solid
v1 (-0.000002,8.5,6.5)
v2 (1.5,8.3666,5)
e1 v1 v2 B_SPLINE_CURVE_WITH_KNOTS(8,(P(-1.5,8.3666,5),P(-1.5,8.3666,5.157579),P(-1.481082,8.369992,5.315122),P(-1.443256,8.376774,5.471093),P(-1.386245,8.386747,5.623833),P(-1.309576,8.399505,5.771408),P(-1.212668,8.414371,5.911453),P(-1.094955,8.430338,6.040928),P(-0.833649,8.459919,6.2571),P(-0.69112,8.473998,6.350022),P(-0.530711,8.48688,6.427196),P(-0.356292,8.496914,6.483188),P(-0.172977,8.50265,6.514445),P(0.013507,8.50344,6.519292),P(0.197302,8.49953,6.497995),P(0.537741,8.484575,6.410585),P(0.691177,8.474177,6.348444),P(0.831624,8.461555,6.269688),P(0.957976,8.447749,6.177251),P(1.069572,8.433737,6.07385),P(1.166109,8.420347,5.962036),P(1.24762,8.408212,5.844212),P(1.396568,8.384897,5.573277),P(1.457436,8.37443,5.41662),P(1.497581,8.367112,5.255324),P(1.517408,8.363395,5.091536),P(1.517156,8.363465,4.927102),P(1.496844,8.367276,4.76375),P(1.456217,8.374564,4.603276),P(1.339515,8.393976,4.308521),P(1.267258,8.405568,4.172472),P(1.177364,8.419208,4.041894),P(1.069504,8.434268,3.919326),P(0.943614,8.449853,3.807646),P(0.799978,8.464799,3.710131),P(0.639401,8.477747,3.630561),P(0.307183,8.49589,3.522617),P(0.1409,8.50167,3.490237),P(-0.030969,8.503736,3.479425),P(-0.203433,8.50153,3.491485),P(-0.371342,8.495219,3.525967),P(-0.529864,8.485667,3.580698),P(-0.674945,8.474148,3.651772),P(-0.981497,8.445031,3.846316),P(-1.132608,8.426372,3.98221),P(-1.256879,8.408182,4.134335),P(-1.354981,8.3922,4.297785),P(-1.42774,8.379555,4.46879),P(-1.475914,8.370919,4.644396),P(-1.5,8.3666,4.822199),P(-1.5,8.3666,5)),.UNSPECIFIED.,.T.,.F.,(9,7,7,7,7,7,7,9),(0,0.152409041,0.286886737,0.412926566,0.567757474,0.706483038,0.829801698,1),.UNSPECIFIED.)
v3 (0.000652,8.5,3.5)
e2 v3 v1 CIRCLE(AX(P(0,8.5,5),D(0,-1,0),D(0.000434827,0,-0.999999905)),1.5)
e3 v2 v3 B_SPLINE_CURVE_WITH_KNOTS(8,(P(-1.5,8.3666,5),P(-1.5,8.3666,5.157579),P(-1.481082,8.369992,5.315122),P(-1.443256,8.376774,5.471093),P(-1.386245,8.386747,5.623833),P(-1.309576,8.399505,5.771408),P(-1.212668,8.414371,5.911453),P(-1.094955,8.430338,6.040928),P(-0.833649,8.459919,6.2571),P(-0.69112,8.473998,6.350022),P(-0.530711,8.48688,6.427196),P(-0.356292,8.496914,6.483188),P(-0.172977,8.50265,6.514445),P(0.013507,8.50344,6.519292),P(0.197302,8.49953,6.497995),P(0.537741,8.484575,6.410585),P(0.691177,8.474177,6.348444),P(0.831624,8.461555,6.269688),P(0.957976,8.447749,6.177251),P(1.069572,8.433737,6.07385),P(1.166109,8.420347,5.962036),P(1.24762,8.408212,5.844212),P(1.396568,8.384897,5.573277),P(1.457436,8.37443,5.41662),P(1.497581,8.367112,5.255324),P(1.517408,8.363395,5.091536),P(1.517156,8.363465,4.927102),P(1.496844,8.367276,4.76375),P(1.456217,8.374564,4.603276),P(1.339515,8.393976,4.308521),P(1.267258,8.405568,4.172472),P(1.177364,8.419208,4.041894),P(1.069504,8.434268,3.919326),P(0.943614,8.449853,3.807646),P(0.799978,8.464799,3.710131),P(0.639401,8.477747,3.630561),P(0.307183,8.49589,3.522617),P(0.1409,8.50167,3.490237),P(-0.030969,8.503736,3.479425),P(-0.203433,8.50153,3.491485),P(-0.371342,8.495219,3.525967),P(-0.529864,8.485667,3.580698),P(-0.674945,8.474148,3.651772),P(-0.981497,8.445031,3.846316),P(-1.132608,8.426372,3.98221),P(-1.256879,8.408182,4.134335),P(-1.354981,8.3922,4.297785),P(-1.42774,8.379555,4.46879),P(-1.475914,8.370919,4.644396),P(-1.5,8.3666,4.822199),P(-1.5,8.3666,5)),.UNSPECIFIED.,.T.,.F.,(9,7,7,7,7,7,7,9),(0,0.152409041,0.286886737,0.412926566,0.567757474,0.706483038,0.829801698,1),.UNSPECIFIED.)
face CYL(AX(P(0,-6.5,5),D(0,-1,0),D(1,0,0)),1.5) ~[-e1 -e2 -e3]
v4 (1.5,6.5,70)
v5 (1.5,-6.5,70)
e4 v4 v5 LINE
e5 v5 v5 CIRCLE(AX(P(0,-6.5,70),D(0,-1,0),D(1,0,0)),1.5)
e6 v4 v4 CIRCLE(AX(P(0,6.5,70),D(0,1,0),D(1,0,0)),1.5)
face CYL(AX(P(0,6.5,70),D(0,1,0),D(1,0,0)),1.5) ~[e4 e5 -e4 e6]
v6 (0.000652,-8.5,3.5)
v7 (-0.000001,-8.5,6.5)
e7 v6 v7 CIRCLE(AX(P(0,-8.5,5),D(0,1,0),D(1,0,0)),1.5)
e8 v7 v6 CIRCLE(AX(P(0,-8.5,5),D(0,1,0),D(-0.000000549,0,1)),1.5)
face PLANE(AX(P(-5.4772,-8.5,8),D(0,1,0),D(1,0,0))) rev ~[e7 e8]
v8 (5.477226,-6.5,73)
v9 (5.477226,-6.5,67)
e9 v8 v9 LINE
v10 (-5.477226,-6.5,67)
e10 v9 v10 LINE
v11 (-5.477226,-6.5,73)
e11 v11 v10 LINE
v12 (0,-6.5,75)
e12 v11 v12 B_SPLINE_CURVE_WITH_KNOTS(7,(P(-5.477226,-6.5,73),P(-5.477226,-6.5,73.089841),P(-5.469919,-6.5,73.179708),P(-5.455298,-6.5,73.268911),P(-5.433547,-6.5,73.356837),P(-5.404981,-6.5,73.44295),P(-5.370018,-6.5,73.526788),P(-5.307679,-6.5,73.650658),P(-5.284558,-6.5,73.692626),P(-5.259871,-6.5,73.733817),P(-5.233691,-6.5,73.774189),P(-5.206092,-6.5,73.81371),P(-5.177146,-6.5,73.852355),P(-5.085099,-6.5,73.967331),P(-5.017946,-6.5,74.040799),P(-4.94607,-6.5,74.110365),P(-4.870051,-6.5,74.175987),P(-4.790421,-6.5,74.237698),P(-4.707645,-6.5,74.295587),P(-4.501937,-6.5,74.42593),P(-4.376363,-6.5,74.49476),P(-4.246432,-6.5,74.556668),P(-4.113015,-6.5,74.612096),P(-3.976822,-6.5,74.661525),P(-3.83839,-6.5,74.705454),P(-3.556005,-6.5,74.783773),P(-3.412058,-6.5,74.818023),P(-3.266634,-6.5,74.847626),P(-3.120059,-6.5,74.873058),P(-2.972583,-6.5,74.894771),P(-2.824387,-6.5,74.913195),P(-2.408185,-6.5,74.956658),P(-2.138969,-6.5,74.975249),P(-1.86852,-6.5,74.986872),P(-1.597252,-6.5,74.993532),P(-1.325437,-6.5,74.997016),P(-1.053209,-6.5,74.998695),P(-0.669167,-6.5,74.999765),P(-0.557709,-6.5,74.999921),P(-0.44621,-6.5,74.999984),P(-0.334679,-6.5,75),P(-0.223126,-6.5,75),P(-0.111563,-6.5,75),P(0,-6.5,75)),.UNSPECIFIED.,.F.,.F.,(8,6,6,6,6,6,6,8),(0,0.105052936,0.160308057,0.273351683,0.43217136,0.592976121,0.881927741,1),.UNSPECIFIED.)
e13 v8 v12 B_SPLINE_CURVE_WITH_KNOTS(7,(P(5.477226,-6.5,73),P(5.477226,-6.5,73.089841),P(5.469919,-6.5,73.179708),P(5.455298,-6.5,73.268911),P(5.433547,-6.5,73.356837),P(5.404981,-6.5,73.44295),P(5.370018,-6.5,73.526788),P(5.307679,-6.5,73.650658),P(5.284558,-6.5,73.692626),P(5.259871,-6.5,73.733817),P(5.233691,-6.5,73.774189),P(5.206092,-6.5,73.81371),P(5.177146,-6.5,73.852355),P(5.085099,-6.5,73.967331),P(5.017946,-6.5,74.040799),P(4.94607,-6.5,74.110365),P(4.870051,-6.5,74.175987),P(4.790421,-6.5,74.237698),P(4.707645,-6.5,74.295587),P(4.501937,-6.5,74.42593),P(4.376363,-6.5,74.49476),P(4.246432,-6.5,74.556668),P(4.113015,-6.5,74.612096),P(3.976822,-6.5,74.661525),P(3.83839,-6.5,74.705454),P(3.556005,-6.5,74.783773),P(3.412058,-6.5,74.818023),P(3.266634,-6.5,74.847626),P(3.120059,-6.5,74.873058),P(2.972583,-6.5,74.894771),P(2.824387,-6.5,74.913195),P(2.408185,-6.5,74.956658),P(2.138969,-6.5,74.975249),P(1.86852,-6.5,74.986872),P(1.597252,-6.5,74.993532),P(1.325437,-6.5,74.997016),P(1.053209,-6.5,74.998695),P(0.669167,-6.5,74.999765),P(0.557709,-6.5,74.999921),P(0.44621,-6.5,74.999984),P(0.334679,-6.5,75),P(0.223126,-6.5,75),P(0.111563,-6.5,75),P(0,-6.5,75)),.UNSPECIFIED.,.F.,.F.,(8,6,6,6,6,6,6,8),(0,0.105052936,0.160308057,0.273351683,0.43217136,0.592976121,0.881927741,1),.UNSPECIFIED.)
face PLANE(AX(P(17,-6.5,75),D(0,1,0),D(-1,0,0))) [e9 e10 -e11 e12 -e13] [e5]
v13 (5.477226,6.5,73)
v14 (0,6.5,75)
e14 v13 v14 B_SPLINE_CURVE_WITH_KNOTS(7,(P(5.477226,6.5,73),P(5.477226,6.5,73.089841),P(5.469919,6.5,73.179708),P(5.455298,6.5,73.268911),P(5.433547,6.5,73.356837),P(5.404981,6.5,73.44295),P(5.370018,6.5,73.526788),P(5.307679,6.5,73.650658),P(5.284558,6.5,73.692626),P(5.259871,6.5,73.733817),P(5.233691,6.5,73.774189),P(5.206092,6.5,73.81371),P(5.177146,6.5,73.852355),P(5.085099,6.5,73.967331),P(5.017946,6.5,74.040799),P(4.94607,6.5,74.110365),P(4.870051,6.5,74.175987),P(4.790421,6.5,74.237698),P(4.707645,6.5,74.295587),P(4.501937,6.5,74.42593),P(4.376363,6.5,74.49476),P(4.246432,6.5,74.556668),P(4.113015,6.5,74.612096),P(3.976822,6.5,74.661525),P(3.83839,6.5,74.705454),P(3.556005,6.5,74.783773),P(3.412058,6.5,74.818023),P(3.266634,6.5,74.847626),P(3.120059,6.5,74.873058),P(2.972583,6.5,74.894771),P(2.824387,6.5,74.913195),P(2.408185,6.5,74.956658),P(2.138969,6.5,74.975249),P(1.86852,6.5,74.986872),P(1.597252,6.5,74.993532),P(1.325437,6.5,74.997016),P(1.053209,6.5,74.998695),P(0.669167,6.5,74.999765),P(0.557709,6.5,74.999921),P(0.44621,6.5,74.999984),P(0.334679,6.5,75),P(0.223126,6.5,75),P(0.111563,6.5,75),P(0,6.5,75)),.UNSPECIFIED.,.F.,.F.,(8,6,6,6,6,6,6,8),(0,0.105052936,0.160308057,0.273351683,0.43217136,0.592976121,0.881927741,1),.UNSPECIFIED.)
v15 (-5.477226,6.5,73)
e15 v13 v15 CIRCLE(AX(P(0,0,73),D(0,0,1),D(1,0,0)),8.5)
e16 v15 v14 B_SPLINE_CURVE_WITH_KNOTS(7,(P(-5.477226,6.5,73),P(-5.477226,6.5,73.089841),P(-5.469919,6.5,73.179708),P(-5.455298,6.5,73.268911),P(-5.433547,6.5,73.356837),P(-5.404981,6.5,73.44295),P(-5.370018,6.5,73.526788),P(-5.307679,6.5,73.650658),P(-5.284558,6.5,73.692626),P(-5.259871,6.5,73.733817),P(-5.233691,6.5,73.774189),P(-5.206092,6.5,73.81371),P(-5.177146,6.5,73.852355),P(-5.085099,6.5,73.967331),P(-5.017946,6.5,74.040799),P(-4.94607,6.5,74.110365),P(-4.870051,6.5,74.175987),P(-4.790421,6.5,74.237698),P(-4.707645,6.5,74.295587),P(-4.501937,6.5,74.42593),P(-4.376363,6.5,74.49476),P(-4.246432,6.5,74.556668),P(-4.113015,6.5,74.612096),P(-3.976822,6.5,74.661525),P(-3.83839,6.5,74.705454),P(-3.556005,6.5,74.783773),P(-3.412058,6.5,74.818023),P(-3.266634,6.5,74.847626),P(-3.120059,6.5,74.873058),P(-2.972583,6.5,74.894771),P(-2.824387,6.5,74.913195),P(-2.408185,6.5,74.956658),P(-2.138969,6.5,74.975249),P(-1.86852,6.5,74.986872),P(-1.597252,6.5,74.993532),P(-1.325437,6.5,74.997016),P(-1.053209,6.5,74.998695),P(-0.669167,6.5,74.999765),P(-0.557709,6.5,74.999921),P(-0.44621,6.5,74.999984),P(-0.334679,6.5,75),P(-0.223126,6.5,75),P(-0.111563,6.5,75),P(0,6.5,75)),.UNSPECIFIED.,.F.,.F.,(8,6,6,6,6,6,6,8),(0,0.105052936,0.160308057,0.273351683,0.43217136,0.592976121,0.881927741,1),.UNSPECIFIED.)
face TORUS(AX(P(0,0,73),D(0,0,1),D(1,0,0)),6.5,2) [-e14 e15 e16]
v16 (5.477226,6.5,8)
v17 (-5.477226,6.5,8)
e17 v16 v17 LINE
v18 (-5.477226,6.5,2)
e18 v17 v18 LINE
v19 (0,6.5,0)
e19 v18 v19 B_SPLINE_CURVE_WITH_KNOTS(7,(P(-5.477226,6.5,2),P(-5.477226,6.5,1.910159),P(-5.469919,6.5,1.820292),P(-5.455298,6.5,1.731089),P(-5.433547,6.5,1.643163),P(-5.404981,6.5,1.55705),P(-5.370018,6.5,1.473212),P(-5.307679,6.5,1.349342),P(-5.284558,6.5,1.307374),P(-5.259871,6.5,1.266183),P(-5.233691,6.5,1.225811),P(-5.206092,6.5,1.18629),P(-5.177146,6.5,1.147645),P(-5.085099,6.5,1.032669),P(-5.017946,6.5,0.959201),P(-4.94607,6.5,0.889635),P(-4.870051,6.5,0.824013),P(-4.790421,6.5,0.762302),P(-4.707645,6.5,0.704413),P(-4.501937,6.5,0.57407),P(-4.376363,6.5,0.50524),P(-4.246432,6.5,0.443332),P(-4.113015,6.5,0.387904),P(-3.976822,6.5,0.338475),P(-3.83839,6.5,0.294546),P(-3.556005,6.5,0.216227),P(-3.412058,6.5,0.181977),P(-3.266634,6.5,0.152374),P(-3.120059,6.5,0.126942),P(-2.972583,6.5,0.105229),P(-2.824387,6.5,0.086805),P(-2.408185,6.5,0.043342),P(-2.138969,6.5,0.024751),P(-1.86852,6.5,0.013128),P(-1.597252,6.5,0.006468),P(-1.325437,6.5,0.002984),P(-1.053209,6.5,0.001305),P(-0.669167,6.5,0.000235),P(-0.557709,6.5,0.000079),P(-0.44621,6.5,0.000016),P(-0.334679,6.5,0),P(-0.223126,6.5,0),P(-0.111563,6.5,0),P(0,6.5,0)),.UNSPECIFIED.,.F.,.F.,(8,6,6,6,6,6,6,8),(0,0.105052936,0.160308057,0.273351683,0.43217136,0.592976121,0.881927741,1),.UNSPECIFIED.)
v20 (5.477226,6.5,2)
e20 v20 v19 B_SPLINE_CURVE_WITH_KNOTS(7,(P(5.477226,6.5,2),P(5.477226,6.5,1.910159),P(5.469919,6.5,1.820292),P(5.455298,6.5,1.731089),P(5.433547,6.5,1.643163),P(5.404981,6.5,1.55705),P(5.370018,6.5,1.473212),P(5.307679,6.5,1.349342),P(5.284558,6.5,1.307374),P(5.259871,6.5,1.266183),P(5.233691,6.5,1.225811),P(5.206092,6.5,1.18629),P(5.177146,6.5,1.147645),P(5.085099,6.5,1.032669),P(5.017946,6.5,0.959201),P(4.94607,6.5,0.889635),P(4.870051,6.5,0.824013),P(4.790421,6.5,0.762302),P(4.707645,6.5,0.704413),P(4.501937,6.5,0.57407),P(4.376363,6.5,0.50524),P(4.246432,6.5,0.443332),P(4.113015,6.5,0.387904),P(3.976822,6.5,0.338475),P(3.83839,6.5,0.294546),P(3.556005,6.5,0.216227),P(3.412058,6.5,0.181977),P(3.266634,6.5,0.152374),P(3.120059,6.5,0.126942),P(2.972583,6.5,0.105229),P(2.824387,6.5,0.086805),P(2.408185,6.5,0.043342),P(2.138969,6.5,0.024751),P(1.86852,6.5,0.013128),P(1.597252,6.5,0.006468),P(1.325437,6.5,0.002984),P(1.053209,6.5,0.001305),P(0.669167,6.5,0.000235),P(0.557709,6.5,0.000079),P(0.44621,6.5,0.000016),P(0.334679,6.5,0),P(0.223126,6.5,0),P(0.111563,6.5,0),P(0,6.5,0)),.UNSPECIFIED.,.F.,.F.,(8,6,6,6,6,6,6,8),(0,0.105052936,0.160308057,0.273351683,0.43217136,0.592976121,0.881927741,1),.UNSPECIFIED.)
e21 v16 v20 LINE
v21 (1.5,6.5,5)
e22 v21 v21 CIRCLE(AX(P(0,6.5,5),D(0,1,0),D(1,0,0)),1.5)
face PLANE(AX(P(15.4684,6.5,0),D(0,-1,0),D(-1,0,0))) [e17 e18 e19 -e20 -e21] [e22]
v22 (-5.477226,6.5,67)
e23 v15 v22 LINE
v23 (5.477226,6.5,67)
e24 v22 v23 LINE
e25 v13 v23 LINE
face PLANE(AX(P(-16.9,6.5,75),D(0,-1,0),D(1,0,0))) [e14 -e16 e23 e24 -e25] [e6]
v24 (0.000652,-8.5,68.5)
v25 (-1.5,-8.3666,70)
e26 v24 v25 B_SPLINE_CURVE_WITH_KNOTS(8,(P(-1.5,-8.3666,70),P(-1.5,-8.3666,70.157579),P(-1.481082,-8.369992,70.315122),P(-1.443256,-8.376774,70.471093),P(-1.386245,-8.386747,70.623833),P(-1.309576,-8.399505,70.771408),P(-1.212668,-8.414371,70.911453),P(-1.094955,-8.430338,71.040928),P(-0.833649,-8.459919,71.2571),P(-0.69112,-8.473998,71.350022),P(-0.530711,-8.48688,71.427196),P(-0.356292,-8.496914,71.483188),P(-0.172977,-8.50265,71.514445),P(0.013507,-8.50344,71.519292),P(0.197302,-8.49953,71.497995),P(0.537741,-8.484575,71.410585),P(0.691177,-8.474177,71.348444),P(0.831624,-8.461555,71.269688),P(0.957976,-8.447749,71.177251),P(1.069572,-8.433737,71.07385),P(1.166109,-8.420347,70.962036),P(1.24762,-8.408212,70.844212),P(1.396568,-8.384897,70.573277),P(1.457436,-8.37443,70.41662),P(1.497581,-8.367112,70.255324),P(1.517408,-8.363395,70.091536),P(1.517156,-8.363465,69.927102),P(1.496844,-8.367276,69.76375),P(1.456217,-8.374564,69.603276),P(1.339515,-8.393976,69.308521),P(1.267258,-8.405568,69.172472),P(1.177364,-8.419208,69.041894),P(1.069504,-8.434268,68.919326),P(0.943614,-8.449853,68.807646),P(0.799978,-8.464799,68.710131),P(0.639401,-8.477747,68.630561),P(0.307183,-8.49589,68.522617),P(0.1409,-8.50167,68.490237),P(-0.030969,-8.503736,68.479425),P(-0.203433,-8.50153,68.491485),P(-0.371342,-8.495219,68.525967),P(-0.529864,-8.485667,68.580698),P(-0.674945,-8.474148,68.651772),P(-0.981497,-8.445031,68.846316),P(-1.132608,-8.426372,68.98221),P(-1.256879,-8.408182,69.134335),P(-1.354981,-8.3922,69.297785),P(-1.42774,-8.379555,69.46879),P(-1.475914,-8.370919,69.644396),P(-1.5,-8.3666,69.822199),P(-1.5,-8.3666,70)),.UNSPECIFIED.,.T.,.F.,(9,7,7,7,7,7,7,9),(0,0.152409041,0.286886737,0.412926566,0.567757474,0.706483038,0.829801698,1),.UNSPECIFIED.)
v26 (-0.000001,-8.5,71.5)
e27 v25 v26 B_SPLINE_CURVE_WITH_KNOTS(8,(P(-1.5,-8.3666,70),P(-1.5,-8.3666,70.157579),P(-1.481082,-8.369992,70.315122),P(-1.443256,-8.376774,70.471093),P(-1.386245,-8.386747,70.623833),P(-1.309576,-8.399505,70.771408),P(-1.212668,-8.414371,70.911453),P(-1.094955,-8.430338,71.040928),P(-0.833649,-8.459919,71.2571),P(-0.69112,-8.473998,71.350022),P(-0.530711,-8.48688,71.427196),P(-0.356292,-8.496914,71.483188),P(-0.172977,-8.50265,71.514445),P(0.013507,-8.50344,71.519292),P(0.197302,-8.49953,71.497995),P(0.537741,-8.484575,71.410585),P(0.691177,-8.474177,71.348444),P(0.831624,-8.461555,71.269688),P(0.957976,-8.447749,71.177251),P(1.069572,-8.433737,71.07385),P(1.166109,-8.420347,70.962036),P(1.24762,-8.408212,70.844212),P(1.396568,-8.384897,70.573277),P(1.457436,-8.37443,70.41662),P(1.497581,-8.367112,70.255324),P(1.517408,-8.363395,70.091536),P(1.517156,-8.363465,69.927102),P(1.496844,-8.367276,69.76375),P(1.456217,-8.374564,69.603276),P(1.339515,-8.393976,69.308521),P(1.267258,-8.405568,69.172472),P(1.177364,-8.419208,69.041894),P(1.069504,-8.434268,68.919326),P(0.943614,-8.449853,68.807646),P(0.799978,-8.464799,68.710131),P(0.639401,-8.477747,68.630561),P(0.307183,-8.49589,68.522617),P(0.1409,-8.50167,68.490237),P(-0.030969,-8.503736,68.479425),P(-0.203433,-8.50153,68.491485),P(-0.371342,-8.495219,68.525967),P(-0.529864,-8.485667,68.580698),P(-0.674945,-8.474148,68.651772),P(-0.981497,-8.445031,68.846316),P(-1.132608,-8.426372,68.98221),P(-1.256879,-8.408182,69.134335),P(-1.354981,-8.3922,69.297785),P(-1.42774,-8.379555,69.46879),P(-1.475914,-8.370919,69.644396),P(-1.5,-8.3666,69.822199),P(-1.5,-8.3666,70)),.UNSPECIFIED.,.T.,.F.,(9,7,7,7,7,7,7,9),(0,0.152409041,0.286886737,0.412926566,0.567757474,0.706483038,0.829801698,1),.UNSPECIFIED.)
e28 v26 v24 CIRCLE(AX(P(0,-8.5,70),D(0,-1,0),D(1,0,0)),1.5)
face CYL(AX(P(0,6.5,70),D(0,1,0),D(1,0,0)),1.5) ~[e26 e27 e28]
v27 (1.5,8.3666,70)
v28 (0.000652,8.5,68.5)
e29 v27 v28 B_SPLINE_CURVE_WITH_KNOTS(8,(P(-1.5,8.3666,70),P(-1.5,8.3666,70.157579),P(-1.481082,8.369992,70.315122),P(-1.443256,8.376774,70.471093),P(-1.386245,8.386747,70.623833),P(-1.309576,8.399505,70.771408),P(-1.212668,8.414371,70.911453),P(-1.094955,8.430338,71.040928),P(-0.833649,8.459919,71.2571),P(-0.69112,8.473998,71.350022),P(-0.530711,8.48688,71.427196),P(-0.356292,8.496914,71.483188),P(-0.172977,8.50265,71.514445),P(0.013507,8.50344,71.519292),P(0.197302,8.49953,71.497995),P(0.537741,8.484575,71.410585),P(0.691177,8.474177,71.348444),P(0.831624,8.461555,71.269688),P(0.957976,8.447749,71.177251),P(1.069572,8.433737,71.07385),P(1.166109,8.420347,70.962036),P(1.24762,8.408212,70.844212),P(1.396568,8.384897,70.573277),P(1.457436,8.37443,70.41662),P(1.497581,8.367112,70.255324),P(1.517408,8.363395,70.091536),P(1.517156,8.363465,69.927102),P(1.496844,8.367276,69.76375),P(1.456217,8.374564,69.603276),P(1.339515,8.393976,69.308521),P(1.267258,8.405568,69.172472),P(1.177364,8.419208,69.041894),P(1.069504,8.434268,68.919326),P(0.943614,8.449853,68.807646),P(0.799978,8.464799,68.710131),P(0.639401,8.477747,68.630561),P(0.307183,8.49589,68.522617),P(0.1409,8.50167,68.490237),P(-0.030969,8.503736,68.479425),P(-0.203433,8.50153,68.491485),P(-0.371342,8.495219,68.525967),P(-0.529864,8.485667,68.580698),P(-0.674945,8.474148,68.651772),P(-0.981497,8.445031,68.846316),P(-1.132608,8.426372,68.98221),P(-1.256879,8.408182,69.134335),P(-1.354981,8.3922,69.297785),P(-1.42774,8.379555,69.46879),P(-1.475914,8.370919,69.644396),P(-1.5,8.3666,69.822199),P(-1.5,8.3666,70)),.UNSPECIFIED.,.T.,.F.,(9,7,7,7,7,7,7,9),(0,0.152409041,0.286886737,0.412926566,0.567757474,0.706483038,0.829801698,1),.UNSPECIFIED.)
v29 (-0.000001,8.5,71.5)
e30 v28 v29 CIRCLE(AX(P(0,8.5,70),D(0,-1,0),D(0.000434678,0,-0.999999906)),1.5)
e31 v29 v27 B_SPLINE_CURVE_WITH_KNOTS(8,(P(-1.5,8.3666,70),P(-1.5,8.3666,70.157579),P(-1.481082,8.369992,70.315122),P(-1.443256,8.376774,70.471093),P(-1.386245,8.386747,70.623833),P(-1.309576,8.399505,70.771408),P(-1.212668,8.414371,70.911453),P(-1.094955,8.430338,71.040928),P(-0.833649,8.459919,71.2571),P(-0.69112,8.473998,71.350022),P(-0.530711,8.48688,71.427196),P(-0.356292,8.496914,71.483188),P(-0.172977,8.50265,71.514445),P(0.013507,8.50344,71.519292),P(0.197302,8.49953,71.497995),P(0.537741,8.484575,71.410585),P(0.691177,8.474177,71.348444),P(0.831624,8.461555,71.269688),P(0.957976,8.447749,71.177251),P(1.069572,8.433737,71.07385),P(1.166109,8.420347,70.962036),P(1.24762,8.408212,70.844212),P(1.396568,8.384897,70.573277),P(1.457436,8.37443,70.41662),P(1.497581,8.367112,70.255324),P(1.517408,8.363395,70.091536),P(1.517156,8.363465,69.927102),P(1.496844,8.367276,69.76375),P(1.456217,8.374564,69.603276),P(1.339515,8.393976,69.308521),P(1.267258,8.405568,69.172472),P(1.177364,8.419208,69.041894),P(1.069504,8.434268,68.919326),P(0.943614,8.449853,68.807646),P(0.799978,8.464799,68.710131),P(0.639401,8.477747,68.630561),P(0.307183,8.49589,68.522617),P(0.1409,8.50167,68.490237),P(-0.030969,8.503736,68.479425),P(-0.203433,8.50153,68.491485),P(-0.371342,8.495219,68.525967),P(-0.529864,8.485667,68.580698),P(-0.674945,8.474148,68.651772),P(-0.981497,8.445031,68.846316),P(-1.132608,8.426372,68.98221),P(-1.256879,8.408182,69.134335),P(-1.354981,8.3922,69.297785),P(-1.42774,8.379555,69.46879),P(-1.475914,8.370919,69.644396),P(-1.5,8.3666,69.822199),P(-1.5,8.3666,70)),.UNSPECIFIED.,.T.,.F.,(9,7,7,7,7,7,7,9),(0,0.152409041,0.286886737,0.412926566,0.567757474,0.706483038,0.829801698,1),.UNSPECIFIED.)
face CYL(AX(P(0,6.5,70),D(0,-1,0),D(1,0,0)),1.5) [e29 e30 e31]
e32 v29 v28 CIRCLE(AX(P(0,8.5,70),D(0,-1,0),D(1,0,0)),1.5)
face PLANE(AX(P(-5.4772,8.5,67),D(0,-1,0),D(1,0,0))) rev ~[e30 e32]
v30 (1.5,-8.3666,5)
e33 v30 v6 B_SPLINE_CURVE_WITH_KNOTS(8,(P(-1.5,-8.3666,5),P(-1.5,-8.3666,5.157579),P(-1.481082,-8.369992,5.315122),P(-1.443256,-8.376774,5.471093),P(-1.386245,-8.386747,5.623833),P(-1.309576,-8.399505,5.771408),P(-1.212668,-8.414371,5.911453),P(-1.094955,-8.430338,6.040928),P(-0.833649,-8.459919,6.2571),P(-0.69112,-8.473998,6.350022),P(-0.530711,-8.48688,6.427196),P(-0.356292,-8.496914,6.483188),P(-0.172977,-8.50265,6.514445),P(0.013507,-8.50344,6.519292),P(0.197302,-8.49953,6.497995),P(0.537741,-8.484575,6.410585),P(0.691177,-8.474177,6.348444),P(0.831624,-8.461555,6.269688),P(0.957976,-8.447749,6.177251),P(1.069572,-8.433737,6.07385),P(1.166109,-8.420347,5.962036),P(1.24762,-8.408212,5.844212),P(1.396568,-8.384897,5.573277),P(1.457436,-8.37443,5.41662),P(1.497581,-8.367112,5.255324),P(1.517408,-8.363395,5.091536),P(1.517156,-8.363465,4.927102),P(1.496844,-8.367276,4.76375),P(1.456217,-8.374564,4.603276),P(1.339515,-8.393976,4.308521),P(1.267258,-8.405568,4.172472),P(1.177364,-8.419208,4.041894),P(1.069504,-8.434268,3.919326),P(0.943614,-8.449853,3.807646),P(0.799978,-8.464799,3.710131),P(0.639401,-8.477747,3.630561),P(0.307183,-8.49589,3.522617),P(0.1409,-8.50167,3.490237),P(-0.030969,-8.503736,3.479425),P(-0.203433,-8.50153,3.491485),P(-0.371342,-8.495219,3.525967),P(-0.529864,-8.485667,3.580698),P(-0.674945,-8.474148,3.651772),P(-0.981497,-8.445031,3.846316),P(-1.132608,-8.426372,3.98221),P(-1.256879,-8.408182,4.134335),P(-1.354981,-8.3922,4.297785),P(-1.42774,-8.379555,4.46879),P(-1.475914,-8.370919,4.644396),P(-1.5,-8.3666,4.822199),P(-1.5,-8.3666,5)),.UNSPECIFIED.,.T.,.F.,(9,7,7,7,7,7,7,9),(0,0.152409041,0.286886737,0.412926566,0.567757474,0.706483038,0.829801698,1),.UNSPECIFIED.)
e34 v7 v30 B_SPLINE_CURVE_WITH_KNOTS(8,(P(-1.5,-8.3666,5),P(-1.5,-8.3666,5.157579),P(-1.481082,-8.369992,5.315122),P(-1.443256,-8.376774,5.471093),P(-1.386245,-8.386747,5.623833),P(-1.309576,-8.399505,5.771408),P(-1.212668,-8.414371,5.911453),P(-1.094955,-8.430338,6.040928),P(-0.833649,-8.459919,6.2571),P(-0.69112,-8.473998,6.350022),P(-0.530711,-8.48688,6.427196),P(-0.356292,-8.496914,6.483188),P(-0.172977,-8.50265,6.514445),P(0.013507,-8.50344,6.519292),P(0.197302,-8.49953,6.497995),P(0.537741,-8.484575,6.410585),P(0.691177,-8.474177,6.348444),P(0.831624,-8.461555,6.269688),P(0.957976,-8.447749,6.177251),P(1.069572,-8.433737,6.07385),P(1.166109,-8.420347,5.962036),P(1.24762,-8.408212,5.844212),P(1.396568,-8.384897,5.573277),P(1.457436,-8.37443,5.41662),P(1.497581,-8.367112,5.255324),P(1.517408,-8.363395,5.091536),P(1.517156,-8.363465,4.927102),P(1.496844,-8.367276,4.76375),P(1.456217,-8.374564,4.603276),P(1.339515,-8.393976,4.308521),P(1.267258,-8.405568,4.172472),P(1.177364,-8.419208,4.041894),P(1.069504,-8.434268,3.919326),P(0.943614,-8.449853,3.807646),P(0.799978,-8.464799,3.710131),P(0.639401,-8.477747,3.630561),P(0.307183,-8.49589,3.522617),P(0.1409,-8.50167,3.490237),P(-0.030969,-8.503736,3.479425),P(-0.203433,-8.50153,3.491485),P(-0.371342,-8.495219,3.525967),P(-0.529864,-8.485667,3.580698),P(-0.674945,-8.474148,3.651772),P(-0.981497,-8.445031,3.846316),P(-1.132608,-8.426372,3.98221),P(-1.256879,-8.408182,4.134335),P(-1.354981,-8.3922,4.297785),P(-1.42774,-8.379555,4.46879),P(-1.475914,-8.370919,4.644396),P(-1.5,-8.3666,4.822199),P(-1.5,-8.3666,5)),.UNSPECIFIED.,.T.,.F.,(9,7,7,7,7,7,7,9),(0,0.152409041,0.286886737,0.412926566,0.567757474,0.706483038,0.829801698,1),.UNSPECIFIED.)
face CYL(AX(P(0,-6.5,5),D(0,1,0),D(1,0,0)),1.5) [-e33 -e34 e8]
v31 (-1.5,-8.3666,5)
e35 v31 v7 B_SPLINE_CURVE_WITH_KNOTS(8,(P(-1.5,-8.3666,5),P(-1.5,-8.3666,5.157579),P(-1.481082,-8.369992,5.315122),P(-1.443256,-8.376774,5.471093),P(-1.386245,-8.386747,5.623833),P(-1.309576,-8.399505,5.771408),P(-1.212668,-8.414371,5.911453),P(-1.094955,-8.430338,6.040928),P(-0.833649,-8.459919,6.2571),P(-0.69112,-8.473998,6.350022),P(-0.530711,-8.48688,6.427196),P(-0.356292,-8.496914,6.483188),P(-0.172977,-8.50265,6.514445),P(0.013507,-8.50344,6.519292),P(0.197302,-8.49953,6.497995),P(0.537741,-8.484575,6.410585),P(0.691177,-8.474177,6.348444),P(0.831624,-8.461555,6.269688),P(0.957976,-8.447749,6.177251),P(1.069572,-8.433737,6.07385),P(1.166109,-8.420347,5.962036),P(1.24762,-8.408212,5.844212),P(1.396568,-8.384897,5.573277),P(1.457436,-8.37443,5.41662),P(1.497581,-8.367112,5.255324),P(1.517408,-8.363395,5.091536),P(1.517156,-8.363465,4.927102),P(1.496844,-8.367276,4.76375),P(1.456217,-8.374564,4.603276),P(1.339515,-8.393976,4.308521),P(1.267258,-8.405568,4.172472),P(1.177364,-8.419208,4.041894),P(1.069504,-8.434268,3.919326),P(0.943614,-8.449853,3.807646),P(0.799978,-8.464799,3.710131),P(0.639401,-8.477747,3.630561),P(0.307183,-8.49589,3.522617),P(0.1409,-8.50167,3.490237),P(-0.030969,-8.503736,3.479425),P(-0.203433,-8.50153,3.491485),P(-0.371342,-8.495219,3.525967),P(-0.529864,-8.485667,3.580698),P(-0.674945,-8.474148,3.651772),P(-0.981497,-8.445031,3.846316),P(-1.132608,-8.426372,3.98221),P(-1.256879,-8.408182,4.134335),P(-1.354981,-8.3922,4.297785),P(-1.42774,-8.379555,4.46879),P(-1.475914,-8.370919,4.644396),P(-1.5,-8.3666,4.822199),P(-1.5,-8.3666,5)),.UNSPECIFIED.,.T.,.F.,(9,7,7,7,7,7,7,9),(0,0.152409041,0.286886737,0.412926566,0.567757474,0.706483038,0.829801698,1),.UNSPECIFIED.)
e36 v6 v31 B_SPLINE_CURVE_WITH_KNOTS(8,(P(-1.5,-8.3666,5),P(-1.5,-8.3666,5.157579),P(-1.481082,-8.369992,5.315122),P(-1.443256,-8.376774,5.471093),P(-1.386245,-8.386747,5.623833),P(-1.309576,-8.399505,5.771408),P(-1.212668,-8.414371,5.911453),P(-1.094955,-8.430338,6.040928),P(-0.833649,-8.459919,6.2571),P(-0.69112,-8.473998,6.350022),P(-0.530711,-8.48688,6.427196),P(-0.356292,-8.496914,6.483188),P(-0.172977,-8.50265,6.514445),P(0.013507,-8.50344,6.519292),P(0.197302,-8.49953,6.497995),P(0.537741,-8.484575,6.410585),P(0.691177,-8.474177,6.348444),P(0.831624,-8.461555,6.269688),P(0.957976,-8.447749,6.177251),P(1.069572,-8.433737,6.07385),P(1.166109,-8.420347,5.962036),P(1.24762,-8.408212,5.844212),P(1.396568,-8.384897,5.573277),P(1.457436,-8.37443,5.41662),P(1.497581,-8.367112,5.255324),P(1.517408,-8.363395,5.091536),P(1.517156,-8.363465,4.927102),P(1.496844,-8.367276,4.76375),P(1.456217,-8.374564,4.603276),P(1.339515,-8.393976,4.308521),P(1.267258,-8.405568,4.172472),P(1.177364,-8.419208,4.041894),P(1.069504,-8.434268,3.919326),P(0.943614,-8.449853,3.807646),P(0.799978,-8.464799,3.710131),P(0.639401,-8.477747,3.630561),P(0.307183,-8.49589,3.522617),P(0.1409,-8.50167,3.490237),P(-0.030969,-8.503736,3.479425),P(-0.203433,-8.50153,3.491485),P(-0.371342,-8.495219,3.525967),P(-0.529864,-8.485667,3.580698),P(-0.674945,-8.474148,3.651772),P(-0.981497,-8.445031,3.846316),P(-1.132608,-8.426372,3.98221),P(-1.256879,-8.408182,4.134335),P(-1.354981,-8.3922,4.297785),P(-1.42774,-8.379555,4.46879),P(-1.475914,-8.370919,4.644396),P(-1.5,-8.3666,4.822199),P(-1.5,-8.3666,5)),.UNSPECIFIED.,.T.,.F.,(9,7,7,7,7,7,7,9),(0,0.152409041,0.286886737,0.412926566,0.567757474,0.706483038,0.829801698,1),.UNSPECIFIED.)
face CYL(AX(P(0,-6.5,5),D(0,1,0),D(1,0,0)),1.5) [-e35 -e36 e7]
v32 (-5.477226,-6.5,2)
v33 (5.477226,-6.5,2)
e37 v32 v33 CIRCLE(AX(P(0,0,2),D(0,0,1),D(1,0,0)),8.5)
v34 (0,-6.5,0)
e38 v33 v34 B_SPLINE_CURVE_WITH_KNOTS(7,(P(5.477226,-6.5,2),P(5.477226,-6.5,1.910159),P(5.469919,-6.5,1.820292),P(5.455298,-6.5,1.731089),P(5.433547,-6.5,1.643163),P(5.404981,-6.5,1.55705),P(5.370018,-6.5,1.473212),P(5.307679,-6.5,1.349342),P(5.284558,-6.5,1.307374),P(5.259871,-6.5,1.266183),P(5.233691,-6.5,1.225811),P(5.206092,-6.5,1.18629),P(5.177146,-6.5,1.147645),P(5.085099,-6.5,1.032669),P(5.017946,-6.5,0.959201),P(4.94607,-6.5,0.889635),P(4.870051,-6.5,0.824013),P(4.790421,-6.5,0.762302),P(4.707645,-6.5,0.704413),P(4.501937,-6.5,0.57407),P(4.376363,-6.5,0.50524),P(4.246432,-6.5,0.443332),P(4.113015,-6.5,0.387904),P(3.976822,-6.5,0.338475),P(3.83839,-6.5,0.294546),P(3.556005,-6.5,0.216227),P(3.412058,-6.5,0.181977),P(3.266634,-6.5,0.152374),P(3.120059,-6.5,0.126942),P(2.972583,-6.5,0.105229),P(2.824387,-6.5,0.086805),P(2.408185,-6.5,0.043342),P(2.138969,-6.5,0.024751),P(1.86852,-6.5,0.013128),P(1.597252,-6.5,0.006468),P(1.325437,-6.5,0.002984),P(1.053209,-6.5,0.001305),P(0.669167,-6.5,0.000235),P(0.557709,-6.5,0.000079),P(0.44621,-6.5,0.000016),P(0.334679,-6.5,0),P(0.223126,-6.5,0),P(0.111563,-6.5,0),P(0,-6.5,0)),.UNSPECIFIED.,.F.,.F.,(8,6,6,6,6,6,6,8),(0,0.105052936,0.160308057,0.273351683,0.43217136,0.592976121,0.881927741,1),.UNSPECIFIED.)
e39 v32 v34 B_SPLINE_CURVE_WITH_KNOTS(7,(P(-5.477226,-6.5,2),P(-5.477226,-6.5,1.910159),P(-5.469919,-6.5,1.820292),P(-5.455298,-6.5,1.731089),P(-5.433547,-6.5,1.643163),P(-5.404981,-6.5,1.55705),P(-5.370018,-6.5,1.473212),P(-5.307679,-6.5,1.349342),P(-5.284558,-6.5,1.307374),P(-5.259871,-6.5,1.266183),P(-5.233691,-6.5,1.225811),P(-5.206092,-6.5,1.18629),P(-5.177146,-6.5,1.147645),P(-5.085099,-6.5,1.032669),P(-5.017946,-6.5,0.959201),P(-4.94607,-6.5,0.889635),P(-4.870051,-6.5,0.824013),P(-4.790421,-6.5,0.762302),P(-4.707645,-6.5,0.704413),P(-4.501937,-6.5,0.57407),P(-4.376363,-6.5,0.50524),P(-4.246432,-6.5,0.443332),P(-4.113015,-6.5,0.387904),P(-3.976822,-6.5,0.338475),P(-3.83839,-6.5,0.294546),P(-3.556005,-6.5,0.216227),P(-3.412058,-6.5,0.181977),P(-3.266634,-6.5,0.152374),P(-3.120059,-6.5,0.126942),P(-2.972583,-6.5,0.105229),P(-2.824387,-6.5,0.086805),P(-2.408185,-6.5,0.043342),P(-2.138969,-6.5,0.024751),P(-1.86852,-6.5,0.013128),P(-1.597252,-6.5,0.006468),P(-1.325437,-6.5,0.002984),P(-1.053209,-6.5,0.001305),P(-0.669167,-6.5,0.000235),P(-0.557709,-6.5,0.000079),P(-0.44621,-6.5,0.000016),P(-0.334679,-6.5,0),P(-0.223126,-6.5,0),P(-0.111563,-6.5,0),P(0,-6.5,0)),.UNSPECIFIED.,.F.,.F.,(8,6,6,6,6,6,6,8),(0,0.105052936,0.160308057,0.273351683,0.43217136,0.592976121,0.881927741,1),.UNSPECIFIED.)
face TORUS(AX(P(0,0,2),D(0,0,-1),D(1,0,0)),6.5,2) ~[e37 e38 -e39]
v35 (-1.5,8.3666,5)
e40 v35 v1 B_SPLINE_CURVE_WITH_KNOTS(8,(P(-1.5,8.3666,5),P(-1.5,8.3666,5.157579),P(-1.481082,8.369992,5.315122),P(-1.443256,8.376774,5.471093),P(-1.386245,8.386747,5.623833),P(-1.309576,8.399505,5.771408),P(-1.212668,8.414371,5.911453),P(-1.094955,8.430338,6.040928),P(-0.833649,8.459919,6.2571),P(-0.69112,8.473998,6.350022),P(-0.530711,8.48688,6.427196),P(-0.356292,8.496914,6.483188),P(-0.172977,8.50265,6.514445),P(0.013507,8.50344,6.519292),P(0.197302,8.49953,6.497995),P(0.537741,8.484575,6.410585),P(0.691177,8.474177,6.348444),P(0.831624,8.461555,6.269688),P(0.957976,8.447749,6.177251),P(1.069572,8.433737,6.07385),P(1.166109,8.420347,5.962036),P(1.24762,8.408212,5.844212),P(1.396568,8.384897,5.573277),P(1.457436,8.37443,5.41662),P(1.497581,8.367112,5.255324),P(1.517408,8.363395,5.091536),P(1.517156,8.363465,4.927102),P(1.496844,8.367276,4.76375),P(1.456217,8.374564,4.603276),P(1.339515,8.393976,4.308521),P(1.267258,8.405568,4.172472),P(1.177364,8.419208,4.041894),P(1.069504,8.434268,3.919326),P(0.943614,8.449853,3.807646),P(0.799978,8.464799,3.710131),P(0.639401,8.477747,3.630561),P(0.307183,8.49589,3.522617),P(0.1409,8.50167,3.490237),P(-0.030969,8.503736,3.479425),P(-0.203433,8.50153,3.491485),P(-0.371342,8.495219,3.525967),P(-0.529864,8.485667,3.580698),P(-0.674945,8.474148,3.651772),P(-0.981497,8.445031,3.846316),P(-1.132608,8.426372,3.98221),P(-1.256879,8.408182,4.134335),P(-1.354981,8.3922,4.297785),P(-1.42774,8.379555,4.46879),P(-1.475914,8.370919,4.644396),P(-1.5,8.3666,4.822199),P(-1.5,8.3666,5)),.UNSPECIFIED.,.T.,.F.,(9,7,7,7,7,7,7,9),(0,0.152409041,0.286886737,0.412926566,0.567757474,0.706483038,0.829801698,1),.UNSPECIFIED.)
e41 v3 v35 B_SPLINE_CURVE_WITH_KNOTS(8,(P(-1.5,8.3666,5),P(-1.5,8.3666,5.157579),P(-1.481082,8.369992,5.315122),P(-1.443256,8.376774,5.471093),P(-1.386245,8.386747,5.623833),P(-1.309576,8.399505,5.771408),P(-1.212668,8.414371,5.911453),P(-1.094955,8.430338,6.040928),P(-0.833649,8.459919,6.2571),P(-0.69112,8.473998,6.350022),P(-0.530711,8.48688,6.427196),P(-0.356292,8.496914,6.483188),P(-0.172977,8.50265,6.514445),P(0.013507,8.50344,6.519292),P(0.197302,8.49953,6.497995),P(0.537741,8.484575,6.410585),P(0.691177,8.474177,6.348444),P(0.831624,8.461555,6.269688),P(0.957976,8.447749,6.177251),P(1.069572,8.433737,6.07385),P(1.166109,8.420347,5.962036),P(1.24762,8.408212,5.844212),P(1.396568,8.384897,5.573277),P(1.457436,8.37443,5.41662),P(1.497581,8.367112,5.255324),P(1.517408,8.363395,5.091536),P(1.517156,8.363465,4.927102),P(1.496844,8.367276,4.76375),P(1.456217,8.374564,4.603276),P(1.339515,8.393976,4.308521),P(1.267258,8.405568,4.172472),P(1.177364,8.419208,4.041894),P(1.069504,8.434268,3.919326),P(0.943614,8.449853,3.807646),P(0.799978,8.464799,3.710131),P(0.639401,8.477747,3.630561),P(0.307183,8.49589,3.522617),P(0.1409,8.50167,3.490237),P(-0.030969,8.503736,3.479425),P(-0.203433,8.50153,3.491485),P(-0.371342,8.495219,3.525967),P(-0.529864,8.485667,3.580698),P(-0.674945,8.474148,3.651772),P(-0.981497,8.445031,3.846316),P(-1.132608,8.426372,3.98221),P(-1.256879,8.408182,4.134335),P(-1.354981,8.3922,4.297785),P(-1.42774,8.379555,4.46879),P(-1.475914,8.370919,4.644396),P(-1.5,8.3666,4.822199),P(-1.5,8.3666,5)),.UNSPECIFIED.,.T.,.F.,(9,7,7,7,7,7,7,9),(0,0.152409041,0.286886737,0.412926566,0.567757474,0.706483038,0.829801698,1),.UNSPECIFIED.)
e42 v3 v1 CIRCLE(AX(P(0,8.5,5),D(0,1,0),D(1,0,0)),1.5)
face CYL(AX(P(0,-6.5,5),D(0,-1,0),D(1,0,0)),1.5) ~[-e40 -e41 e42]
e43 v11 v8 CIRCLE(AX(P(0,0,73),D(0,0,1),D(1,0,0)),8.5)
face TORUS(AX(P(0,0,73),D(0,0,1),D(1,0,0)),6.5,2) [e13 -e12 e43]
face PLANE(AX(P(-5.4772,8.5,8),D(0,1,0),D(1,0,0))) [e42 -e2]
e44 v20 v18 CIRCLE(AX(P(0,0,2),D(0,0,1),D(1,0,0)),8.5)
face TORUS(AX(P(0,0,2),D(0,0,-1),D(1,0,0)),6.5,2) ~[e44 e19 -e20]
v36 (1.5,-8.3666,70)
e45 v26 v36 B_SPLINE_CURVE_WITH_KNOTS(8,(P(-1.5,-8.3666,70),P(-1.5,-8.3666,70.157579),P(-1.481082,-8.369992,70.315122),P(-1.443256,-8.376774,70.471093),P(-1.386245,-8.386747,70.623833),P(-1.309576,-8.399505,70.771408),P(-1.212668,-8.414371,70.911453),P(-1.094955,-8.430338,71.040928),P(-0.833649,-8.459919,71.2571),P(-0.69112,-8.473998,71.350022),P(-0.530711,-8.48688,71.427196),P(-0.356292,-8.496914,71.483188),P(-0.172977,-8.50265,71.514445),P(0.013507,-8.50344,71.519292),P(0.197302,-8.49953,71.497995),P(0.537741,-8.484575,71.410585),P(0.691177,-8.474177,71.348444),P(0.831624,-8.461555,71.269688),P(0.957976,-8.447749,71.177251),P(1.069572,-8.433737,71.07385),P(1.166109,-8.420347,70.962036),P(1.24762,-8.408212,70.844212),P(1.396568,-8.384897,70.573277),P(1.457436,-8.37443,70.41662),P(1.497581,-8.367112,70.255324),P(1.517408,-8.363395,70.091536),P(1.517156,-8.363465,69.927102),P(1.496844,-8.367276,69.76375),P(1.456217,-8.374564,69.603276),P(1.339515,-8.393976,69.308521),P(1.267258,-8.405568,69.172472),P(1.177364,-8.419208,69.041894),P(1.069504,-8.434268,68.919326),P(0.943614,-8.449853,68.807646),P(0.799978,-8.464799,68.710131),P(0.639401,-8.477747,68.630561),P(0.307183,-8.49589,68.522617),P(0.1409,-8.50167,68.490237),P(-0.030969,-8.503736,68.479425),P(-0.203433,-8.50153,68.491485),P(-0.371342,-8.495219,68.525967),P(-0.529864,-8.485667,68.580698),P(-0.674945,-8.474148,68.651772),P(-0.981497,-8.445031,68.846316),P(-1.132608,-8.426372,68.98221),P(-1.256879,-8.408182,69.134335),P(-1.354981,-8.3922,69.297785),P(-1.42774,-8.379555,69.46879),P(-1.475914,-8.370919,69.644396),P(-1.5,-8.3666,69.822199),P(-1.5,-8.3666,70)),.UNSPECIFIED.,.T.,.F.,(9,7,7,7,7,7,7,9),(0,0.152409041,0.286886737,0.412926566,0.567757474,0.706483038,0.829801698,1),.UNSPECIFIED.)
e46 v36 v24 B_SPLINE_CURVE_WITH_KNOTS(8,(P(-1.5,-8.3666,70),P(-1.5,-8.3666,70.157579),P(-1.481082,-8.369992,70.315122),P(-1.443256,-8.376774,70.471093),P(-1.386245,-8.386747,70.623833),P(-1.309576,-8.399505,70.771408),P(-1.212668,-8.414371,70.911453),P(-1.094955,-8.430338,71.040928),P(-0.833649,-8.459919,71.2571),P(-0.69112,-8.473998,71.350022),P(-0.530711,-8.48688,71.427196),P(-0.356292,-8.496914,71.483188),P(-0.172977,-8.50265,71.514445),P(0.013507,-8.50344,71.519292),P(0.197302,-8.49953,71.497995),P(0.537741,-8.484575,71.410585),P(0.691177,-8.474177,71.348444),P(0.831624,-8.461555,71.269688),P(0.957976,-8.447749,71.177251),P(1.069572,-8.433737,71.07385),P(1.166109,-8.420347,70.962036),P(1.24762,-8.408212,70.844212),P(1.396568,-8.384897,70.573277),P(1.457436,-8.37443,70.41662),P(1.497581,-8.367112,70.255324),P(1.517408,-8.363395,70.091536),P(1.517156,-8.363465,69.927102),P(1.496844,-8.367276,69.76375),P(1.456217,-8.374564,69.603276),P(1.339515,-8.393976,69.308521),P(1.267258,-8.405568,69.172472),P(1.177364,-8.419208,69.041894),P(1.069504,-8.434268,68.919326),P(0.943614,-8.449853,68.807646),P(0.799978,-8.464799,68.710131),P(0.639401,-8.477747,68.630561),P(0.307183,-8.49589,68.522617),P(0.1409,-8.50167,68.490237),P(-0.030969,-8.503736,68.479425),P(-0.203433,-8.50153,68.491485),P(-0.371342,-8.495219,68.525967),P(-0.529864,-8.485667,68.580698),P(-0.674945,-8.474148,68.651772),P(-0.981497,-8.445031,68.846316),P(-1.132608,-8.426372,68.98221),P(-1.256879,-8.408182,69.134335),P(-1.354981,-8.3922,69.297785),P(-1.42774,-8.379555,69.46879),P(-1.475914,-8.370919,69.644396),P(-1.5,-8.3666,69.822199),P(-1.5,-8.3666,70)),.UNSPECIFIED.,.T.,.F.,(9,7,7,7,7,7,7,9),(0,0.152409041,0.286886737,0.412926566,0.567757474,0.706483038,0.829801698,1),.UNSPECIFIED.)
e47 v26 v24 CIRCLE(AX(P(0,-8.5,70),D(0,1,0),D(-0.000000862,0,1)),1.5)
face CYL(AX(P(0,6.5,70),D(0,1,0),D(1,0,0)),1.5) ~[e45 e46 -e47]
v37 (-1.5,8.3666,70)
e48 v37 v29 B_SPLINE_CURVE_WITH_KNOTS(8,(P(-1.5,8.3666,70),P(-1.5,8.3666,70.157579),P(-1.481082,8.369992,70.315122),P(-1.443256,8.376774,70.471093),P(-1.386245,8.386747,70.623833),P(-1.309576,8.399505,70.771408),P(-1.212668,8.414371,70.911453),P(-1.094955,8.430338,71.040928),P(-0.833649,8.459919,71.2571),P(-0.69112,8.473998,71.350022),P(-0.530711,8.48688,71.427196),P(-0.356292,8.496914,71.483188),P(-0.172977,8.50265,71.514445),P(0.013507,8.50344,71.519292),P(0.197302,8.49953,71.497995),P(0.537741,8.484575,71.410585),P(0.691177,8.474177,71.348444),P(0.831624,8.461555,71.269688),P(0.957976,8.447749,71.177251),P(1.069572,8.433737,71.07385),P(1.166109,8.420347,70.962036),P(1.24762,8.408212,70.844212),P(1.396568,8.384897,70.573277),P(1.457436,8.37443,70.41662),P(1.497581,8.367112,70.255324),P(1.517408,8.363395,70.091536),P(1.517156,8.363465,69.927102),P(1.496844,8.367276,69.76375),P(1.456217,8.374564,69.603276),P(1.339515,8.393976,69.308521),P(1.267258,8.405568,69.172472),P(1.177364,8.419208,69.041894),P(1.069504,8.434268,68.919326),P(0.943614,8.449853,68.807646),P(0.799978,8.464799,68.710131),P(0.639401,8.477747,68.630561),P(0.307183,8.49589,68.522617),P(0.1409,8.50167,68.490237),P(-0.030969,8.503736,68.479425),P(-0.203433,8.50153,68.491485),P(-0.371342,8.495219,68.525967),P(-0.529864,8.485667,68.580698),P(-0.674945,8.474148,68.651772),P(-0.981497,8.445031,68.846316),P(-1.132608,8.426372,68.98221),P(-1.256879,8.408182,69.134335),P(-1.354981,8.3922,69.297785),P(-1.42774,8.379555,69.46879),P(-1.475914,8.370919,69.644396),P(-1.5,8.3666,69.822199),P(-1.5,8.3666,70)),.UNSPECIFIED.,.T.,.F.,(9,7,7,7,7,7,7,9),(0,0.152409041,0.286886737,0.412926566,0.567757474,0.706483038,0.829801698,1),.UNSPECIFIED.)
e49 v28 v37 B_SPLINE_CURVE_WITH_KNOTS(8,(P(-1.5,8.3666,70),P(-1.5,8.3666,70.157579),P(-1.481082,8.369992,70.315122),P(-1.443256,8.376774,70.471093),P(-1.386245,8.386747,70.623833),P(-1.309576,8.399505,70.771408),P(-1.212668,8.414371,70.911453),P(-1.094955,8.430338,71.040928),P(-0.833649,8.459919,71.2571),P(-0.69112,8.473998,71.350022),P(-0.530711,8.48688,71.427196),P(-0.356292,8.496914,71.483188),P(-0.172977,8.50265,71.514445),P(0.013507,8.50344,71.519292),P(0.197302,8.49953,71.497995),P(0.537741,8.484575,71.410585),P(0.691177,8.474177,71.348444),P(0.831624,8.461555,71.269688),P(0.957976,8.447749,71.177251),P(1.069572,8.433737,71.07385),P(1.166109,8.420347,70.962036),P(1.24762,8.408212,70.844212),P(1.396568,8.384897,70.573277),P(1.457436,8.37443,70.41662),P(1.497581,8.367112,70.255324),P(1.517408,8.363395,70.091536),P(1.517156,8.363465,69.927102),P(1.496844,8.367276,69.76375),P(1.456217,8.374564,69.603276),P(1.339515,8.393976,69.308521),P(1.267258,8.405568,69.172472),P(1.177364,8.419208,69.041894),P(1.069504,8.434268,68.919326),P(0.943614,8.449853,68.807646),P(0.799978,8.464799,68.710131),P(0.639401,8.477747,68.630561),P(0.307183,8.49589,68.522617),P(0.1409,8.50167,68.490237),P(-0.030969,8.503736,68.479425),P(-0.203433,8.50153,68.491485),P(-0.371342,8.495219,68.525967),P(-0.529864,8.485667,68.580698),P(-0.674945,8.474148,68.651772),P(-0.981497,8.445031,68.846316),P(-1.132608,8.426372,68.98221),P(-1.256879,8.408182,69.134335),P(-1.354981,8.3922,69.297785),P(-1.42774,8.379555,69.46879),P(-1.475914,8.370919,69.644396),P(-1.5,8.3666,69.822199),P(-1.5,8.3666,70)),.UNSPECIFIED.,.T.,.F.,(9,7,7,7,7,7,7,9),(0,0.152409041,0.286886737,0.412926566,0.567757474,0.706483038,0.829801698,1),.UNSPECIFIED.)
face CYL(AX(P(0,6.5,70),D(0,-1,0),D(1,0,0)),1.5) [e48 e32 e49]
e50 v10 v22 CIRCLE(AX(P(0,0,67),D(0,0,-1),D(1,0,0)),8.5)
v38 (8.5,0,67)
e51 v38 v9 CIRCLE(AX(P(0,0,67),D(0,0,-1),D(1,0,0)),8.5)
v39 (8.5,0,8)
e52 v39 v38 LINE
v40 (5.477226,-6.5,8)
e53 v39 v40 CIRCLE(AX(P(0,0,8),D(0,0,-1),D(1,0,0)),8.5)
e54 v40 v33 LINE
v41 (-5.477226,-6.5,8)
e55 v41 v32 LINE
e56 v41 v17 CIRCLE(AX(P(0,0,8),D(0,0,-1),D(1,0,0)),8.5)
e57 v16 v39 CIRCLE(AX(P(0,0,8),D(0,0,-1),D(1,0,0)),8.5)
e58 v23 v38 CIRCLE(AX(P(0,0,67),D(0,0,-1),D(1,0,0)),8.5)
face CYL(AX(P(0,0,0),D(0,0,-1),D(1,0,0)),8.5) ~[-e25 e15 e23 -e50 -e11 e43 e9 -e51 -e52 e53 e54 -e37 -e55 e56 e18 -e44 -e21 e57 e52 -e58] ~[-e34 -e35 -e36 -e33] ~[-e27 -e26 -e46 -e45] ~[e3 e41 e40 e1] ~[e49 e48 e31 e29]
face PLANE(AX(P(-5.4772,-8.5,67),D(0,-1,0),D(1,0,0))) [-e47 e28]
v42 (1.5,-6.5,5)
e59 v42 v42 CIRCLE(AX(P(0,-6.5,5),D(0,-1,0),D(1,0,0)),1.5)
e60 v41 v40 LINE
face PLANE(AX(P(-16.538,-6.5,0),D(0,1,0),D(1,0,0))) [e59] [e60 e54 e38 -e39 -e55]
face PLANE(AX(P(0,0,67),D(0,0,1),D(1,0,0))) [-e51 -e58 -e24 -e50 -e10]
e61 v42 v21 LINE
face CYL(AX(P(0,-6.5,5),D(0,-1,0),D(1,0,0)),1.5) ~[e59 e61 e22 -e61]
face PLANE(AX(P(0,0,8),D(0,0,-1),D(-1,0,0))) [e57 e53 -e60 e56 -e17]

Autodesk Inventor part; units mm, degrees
ref_plane "YZ Plane" through (0, 0, 0) normal (1, 0, 0) x (0, 1, 0)
ref_plane "XZ Plane" through (0, 0, 0) normal (0, 1, 0) x (-1, 0, 0)
ref_plane "XY Plane" through (0, 0, 0) normal (0, 0, 1) x (1, 0, 0)
sketch "Sketch1" plane through (0, 0, 0) normal (0, 0, 1) x (1, 0, 0)
  circle A0 centre (0, 0) radius 8.5
  dimension "d0" = 17
extrude "Extrusion1" add sketch "Sketch1" along normal blind 75
sketch "Sketch2" plane through (0, 0, 0) normal (0, 1, 0) x (-1, 0, 0)
  circle A0 centre (0, 70) radius 1.5
  line L0 (8.5, 75) -> (-8.5, 75) projected
  circle A1 centre (0, 5) radius 1.5
  line L1 (8.5, 0) -> (-8.5, 0) projected
  point P0 (0, 0)
  dimension "d3" = 3
  dimension "d4" = 5
  dimension "d5" = 3
  dimension "d6" = 5
extrude "Extrusion2" cut sketch "Sketch2" against normal through all both and the other way through all
fillet "Fillet1" radius 2 2 edges at (-8.5, 0, 75) (-8.5, 0, 0)
sketch "Sketch5" plane through (0, 0, 75) normal (0, 0, 1) x (1, 0, 0)
  line L0 (-16.9, 6.5) -> (17, 6.5)
  line L1 (17, 6.5) -> (17, -6.5)
  line L2 (17, -6.5) -> (-16.9, -6.5)
  line L3 (-16.9, -6.5) -> (-16.9, 6.5)
  point P0 (0, 0)
  dimension "d18" = 13
  dimension "d19" = 6.5
extrude "Extrusion5" cut sketch "Sketch5" against normal blind 8
sketch "Sketch6" plane through (0, 0, 0) normal (0, 0, -1) x (-1, 0, 0)
  line L0 (-15.4684, 6.5) -> (16.538, 6.5)
  line L1 (16.538, 6.5) -> (16.538, -6.5)
  line L2 (16.538, -6.5) -> (-15.4684, -6.5)
  line L3 (-15.4684, -6.5) -> (-15.4684, 6.5)
  point P0 (0, 0)
  dimension "d22" = 13
  dimension "d23" = 6.5
extrude "Extrusion6" cut sketch "Sketch6" against normal blind 8
sketch "Sketch7" plane through (-5.4772, -6.5, 8) normal (0, 1, 0) x (1, 0, 0)
  circle A0 centre (5.4772, 3) radius 1.5 projected
  line L0 (10.9545, -59) -> (0, -59) projected
  line L1 (0, -65) -> (0, -59) projected
  line L2 (10.9545, -59) -> (10.9545, -65) projected
  line L3 (10.9545, 0) -> (10.9545, -59) projected
  line L4 (0, 0) -> (10.9545, 0) projected
  line L5 (0, 0) -> (0, 6) projected
  line L6 (10.9545, 6) -> (10.9545, 0) projected
  line L7 (0, -59) -> (0, 0) projected
  circle A1 centre (5.4772, -62) radius 1.5 projected
  point P0 (5.4772, 8)
  point P1 (5.4772, -67)
extrude "Extrusion7" add sketch "Sketch7" along normal blind 15 and the other way blind 2 contours A0
sketch "Sketch8" plane through (-5.4772, 6.5, 67) normal (0, -1, 0) x (1, 0, 0)
  circle A0 centre (5.4772, -62) radius 1.5 projected
  line L0 (0, 0) -> (10.9545, 0) projected
  line L1 (10.9545, 6) -> (10.9545, 0) projected
  line L2 (0, 0) -> (0, 6) projected
  line L3 (0, -59) -> (0, 0) projected
  line L4 (10.9545, -59) -> (0, -59) projected
  line L5 (10.9545, -59) -> (10.9545, -65) projected
  line L6 (0, -65) -> (0, -59) projected
  line L7 (10.9545, 0) -> (10.9545, -59) projected
  circle A1 centre (5.4772, 3) radius 1.5 projected
  point P0 (5.4772, -67)
  point P1 (5.4772, 8)
extrude "Extrusion8" add sketch "Sketch8" along normal blind 15 and the other way blind 2 contours A1
properties part number "cylinder right"
